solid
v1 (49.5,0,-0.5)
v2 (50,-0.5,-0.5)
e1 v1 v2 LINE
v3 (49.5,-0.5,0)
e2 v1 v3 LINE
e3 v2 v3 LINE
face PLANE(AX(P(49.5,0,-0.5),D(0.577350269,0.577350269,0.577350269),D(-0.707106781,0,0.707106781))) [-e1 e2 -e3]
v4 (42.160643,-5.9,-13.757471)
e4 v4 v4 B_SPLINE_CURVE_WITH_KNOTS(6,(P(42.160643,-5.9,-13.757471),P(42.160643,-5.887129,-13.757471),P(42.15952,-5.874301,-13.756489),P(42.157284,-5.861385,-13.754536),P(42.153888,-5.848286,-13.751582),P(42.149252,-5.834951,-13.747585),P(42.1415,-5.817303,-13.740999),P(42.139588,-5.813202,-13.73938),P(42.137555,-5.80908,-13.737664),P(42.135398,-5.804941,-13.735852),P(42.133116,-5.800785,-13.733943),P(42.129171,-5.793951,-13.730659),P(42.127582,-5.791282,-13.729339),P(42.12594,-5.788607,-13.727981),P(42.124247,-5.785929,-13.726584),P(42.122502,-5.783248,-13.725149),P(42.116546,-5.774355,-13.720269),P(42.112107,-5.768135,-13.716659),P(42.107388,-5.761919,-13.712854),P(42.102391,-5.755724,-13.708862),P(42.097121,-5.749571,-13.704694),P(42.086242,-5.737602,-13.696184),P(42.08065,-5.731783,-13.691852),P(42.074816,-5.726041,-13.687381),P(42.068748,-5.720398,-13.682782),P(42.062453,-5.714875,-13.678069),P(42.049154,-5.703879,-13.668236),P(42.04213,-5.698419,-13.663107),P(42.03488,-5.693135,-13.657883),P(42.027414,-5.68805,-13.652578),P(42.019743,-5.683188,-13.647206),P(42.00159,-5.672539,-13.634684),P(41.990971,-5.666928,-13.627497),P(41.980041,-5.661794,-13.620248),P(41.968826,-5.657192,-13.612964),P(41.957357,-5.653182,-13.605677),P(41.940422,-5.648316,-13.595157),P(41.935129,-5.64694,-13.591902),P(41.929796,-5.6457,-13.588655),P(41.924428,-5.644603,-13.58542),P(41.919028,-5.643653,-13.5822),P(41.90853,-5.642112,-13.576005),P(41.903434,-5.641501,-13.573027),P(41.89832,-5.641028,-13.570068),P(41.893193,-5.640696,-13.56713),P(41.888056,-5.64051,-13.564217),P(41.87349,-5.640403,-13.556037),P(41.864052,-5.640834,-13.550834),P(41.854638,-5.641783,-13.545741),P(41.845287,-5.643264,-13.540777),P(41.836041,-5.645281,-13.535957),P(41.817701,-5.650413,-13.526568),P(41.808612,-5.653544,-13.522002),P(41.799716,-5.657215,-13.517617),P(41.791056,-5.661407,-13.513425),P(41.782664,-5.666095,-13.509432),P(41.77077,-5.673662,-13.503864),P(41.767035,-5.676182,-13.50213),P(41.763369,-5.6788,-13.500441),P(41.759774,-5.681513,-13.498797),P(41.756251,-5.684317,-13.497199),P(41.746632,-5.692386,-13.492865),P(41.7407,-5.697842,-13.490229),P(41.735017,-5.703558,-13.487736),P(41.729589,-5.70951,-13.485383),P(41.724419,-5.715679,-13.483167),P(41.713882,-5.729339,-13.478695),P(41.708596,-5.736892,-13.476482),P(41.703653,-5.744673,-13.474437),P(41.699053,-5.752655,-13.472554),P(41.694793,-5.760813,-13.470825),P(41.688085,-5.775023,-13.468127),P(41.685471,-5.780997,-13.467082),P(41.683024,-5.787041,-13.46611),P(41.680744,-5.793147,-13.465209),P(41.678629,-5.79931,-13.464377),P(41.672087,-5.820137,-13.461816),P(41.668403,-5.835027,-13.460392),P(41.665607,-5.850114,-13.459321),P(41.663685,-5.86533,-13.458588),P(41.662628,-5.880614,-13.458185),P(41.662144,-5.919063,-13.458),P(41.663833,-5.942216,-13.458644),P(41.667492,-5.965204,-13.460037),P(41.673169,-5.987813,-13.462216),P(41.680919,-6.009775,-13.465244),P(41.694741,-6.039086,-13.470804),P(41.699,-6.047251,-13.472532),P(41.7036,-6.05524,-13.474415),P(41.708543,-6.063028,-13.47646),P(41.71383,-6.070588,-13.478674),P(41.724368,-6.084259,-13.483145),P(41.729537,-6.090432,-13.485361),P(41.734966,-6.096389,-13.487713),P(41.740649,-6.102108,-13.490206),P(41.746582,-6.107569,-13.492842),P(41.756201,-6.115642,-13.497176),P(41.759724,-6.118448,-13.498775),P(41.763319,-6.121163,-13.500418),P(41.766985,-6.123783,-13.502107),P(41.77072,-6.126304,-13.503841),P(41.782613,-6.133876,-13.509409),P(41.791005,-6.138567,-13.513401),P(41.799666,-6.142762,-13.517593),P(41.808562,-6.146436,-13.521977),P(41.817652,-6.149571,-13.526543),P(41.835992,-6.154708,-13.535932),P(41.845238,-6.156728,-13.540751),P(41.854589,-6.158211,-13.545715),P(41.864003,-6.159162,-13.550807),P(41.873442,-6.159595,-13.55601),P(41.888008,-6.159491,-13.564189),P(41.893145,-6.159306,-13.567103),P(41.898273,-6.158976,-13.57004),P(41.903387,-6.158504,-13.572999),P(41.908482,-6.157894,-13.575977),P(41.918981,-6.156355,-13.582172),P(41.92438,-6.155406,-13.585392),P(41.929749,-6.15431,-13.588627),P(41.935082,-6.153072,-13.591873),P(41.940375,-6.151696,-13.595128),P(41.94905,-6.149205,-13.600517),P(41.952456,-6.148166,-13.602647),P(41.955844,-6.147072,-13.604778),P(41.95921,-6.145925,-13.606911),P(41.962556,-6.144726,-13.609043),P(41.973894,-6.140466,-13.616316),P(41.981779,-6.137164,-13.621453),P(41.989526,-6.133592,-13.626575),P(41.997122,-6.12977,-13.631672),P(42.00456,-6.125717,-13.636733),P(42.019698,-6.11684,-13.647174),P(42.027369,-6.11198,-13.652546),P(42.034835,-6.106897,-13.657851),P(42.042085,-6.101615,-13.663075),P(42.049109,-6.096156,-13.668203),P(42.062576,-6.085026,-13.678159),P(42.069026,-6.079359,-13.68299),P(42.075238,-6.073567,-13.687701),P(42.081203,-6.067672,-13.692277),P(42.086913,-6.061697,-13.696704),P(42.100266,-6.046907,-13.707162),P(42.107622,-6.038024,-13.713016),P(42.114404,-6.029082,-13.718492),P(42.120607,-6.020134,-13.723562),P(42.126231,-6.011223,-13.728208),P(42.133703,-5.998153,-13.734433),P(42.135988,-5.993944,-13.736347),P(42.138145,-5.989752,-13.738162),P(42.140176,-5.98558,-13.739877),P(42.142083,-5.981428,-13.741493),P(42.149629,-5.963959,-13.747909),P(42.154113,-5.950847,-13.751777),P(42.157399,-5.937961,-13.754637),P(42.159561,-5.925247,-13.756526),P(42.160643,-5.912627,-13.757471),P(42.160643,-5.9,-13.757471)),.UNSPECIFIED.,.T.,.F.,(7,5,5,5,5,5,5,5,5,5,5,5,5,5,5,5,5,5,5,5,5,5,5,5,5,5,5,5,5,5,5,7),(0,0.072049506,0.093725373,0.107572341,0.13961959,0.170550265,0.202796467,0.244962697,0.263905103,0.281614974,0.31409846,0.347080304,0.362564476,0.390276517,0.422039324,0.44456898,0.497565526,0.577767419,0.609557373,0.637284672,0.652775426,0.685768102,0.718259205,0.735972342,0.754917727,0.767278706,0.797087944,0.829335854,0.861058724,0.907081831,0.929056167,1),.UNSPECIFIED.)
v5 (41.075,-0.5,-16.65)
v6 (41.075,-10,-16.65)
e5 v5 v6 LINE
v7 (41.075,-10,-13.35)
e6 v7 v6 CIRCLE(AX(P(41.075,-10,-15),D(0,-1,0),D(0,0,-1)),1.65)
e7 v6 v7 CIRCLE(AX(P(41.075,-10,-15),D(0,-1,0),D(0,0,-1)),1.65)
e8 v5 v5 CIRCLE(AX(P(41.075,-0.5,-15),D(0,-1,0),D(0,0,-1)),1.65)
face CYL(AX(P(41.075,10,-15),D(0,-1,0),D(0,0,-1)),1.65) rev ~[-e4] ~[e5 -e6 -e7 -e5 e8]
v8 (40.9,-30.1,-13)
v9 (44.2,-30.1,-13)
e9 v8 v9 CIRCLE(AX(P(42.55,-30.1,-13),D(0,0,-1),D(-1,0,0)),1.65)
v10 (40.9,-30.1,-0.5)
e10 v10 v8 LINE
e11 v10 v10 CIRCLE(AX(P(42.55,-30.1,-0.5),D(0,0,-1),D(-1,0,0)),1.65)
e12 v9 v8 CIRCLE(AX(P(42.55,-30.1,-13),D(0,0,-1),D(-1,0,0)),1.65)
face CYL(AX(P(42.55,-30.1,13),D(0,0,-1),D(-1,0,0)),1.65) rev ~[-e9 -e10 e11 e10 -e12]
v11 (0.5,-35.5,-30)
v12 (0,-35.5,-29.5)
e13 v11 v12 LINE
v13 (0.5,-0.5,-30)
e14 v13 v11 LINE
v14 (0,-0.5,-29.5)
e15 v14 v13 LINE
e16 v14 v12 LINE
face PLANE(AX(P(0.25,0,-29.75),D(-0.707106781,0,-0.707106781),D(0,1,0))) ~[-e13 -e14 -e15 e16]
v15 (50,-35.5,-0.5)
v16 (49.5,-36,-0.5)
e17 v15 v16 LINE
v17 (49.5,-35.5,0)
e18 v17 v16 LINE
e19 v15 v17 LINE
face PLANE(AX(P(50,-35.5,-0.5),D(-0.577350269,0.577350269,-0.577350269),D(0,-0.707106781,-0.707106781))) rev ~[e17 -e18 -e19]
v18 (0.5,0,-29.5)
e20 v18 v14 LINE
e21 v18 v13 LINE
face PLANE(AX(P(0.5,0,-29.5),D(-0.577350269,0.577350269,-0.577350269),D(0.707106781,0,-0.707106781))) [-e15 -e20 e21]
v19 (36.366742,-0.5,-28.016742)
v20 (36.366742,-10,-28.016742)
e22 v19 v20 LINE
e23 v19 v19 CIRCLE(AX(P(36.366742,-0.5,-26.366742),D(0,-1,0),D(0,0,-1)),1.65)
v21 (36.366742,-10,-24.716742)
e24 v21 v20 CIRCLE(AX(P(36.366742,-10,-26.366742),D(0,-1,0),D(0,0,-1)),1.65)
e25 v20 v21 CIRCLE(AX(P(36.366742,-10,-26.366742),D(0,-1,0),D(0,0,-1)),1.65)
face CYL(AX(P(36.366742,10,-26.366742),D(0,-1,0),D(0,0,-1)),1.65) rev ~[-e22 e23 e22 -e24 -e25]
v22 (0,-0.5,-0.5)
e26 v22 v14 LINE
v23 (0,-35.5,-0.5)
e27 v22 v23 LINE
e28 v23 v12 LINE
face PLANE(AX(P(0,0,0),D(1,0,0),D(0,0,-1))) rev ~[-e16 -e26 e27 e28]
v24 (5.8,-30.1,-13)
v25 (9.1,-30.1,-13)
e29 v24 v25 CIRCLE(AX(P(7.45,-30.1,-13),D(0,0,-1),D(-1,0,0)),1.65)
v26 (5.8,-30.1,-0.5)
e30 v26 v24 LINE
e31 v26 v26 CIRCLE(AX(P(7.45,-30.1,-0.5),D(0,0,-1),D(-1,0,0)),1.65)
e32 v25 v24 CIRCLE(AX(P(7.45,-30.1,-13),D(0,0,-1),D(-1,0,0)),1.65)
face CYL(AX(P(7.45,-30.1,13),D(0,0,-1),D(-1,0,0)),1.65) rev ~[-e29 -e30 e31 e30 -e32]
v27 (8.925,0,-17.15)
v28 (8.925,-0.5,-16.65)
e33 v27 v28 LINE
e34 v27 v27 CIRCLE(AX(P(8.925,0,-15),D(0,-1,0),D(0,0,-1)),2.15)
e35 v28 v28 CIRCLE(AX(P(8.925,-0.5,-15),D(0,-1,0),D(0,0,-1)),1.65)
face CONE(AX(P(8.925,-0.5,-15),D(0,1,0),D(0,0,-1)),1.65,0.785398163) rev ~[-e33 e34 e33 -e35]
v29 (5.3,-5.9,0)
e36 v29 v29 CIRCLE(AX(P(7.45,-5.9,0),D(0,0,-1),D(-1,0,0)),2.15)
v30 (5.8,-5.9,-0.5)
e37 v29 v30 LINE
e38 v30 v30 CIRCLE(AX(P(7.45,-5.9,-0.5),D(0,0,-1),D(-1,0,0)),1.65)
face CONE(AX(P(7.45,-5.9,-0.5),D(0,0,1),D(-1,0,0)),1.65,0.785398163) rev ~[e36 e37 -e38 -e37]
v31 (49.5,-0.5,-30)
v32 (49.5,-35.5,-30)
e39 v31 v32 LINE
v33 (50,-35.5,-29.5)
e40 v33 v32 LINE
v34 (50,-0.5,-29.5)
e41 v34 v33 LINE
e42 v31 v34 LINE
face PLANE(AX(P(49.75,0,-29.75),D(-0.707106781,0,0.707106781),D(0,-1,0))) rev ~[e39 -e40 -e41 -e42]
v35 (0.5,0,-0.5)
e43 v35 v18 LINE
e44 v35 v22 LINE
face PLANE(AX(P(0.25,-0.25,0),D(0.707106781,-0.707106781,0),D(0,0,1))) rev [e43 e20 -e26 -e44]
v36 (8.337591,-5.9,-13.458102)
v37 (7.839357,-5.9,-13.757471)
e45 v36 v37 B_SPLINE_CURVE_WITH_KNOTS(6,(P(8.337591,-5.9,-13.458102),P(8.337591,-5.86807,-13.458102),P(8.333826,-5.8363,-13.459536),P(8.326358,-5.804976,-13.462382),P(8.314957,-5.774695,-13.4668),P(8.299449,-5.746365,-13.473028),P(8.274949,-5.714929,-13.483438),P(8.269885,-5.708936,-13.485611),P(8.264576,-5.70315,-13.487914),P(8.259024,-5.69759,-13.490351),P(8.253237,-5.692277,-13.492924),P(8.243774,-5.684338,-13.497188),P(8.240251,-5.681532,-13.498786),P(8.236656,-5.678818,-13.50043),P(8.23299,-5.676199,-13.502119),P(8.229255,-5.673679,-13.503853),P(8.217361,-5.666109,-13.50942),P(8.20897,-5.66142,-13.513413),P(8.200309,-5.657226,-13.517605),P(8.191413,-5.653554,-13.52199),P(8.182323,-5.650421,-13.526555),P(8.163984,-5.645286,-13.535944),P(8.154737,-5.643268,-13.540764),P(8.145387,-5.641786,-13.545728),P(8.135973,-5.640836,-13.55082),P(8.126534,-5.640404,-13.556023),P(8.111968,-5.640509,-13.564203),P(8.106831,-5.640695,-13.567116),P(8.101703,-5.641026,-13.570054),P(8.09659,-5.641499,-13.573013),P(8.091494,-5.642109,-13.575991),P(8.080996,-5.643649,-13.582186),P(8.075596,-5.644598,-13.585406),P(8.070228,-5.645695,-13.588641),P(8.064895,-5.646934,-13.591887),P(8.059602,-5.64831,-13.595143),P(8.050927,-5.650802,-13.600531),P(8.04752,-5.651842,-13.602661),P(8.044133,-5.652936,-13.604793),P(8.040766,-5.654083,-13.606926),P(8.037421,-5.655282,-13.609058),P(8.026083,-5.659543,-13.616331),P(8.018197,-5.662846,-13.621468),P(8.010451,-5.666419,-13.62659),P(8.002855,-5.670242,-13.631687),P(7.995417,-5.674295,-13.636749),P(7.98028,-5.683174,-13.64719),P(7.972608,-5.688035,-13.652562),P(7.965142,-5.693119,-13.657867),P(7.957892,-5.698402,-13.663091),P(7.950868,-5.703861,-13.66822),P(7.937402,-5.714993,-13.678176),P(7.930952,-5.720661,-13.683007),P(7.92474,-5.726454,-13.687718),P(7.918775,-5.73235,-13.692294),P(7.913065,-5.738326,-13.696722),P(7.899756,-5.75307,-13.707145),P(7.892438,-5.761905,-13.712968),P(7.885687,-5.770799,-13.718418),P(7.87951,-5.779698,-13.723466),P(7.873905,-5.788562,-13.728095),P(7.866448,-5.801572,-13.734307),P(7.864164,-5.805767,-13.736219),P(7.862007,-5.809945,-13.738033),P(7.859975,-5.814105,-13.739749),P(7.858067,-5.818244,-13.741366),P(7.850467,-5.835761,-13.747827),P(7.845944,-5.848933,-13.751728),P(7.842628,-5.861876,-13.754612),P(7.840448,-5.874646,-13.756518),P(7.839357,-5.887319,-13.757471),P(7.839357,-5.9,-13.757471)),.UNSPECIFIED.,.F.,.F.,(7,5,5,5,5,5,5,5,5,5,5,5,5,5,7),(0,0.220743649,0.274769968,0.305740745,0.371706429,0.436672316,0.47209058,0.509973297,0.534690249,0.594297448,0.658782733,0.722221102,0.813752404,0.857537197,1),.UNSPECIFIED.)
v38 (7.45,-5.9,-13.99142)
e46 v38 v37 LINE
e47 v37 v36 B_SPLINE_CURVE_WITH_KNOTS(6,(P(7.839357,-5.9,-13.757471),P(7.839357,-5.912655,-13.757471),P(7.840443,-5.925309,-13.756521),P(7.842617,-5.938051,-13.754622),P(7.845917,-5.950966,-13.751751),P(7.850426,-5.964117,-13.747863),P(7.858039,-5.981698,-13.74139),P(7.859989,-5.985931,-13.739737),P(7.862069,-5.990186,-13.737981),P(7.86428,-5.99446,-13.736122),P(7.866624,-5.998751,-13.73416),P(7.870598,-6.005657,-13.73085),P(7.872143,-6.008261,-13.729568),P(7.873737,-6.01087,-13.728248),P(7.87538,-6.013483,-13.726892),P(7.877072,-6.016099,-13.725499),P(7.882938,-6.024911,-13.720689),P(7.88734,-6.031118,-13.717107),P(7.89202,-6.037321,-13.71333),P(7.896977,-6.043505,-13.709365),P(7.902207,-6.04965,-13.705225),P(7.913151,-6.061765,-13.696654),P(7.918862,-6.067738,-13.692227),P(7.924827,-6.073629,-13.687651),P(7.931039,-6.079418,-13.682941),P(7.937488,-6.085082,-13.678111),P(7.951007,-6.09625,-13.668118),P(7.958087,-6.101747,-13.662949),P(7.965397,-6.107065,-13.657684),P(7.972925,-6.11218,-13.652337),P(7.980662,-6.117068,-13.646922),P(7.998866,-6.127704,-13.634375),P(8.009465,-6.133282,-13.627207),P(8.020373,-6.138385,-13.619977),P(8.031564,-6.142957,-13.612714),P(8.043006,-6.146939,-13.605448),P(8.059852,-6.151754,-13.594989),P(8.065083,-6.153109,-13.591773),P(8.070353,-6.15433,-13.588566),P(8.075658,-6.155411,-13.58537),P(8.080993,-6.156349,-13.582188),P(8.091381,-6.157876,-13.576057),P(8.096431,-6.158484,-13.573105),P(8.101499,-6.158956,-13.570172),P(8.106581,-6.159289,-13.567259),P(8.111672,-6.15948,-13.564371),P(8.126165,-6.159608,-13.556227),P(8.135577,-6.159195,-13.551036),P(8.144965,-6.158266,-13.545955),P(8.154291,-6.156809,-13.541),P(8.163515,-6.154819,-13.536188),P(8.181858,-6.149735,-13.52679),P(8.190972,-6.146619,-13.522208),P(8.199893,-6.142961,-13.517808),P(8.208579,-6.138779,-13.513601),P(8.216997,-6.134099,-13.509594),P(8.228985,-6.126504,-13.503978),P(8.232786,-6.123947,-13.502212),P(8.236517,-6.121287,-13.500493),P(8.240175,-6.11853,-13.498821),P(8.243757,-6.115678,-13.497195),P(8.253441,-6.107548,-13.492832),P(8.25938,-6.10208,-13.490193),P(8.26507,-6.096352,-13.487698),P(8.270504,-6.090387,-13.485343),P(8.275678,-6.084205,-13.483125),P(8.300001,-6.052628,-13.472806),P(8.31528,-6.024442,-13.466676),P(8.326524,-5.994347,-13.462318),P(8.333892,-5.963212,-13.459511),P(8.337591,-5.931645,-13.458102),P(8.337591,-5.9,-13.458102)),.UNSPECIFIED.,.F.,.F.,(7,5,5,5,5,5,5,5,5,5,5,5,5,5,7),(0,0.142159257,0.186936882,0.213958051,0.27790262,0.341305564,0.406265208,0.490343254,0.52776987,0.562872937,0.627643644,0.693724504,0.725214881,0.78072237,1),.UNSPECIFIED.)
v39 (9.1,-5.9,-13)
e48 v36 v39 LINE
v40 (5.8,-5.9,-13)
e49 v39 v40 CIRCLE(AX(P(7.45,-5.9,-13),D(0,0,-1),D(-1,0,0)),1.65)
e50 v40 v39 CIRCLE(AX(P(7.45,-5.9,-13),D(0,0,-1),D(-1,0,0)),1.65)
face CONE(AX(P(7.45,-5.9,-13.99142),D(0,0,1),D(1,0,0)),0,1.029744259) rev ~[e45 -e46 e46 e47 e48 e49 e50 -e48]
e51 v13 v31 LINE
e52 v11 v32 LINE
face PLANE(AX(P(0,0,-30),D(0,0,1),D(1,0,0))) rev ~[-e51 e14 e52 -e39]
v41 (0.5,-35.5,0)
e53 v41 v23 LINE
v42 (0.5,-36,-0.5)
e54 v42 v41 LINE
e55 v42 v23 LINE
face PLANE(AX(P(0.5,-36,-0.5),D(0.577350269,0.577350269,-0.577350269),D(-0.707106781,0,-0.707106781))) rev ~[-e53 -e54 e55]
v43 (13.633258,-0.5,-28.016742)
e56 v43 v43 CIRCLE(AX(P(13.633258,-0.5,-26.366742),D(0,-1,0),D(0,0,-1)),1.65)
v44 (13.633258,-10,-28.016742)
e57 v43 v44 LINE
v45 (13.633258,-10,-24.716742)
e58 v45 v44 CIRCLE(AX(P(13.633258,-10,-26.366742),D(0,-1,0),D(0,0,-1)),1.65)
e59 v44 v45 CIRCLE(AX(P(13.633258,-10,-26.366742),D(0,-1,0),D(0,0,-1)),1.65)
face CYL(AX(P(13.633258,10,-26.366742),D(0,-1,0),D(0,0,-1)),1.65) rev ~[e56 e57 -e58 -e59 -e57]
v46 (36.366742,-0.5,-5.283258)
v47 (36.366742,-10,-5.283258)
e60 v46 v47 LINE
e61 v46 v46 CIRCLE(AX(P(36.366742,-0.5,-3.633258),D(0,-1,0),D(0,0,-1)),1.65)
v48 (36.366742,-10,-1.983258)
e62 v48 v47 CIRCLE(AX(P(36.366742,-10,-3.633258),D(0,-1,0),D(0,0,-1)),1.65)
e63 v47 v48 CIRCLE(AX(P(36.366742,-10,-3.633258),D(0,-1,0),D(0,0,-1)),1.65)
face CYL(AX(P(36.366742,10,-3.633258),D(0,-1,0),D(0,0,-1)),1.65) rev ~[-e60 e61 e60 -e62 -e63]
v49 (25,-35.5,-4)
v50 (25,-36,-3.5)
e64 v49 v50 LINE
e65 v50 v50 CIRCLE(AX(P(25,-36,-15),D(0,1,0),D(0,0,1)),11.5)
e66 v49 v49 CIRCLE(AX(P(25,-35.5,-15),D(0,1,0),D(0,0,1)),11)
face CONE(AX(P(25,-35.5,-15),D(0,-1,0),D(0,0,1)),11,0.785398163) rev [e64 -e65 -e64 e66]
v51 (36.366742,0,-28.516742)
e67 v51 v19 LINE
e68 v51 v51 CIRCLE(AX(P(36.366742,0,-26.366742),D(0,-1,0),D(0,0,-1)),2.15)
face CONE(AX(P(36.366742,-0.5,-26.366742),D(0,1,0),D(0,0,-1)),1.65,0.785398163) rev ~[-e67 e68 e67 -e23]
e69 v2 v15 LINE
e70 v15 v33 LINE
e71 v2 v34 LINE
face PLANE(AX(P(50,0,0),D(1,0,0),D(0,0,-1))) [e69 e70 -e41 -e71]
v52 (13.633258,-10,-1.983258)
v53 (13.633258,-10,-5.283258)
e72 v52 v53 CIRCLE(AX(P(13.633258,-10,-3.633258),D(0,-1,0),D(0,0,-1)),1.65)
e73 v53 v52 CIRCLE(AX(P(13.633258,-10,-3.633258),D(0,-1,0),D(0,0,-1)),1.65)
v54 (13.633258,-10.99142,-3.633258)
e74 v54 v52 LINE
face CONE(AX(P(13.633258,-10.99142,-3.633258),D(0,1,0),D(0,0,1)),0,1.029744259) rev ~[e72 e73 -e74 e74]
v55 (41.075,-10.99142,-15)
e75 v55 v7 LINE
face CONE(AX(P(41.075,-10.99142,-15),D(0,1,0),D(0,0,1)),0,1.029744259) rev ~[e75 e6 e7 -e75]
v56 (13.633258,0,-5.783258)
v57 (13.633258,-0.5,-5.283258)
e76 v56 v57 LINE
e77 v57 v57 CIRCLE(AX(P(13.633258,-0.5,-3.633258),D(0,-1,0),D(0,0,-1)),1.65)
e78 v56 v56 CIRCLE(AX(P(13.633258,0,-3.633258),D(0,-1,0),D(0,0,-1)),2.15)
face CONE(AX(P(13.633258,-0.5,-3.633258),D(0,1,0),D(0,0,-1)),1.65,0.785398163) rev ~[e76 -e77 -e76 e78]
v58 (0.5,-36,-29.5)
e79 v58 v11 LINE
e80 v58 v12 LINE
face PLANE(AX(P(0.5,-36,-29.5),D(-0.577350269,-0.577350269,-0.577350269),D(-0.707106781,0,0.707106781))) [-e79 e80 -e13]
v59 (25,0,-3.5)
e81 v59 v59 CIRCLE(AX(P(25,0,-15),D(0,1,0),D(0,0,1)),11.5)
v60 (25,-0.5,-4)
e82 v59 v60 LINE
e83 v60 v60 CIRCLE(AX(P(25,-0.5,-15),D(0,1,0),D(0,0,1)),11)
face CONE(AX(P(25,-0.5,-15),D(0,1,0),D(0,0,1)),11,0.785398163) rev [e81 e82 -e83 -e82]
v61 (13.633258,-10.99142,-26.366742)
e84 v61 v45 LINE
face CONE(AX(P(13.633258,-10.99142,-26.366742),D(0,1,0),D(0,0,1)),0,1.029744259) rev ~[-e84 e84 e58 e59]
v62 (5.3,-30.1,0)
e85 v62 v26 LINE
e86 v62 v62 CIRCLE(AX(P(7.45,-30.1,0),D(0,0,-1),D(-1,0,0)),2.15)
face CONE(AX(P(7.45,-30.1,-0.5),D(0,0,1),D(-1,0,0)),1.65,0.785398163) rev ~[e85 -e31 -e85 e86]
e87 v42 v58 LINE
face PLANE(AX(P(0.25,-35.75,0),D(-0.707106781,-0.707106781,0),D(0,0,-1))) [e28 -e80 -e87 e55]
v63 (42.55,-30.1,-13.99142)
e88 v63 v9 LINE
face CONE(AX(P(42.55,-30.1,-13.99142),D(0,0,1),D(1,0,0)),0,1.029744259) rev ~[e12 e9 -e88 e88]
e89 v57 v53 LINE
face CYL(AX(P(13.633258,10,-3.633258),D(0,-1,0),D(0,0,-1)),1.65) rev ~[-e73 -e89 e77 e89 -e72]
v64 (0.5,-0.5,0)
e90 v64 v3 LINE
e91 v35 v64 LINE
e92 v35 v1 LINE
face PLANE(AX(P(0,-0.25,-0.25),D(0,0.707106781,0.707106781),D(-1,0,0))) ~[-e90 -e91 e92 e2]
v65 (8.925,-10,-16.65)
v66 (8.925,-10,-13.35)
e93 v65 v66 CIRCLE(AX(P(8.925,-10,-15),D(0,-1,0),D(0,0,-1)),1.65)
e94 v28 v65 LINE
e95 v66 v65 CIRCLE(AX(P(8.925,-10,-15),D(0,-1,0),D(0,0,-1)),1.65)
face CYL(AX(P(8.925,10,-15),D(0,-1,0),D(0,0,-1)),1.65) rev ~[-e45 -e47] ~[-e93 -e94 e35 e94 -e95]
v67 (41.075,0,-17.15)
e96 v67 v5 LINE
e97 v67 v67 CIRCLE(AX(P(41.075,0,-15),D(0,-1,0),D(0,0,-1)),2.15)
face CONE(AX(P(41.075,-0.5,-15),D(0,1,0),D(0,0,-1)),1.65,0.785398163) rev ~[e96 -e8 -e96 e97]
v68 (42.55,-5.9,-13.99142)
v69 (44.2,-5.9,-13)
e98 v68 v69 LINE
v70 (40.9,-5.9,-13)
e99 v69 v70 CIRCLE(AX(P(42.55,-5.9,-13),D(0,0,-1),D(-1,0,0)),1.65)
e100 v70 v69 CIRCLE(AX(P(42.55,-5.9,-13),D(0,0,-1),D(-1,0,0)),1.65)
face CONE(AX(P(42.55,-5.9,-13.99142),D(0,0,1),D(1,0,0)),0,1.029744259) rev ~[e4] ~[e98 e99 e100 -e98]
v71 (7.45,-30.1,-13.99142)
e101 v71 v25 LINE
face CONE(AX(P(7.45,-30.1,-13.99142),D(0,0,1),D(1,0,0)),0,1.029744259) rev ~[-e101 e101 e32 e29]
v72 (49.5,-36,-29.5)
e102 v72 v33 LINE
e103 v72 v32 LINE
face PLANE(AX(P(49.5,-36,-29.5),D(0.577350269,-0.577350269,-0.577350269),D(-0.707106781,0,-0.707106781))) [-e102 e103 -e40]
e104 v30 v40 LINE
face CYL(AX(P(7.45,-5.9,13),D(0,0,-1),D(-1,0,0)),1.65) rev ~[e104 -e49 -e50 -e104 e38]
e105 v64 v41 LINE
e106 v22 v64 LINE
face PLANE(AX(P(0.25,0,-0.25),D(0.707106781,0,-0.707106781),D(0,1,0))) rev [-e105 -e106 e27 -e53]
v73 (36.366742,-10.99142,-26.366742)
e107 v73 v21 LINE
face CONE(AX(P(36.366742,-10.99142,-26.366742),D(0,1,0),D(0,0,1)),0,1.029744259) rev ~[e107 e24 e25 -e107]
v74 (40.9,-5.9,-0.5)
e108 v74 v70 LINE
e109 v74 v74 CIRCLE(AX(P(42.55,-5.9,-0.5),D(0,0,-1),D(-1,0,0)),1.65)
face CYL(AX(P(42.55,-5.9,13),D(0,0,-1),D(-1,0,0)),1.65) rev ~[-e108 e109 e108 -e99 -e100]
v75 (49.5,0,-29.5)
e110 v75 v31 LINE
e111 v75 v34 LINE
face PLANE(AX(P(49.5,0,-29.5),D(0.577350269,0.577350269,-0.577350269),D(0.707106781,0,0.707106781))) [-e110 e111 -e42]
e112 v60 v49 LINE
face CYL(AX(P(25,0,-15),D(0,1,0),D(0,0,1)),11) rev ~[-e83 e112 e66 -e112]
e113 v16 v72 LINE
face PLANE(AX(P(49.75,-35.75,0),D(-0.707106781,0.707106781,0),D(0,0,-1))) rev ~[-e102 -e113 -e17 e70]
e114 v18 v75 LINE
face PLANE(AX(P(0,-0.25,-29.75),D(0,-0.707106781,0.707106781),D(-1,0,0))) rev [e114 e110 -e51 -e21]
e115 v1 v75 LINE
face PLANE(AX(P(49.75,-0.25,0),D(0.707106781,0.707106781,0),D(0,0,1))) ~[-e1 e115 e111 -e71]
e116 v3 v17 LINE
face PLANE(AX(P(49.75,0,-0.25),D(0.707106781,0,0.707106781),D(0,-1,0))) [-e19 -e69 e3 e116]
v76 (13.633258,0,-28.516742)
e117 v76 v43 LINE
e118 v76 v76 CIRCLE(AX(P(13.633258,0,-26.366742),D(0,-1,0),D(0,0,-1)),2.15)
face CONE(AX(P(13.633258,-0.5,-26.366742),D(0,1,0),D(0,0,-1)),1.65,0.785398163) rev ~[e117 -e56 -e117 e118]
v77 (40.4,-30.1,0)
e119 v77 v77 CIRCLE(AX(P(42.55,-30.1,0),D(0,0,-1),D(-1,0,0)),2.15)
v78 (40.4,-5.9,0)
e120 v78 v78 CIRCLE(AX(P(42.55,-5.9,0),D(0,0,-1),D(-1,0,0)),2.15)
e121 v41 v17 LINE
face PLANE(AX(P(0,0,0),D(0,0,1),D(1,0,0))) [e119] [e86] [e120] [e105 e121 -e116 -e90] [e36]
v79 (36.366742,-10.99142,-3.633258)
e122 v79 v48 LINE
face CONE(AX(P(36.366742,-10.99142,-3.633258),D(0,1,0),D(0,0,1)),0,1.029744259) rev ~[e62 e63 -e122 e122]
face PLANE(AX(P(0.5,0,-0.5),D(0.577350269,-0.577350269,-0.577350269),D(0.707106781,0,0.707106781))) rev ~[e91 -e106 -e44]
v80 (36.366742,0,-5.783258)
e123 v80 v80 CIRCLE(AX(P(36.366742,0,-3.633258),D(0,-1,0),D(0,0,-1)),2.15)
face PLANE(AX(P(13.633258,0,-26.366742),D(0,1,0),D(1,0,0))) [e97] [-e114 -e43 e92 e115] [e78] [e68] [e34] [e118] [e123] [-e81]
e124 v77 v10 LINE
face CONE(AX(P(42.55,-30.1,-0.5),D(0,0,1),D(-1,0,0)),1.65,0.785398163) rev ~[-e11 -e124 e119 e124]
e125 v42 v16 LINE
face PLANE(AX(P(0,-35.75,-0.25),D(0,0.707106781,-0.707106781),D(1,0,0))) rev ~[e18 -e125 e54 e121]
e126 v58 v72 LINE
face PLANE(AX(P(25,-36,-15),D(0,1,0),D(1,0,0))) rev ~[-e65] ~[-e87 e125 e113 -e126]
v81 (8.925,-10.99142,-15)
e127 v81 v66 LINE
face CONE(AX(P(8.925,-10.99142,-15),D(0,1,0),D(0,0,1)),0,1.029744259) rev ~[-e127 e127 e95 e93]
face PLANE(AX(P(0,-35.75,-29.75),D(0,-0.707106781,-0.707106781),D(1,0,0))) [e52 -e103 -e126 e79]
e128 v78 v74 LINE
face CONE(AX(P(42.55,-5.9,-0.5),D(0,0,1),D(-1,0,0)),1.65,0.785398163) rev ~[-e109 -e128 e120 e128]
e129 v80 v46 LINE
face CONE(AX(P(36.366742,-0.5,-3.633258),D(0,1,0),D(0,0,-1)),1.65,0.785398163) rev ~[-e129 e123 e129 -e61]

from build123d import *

# Parameters (mm, degrees)
SKETCH1_W                       = 50
SKETCH1_H                       = 30
SKETCH1_R                       = 1.65
SKETCH1_R_2                     = 11
BOSS_EXTRUDE1_DEPTH             = 36
TAP_DRILL_FOR_M4X0_7_TAP1_D     = 3.3
TAP_DRILL_FOR_M4X0_7_TAP1_DEPTH = 10
TAP_DRILL_FOR_M4X0_7_TAP1_TIP   = 0.991420021
TAP_DRILL_FOR_M4X0_7_TAP2_D     = 3.3
TAP_DRILL_FOR_M4X0_7_TAP2_DEPTH = 13
TAP_DRILL_FOR_M4X0_7_TAP2_TIP   = 0.991420021
CHAMFER1_SIZE                   = 0.5


with BuildPart() as part:
    # Sketch1 → Boss-Extrude1 (new body)
    # profile 1 of 7: a face of its own
    with BuildSketch(Plane(origin=(0, 0, 0), x_dir=(1, 0, 0), z_dir=(0, 1, 0))):
        with Locations((25, 15)):
            Rectangle(SKETCH1_W, SKETCH1_H)
        with Locations((36.366741508, 3.633258492)):
            Circle(SKETCH1_R, mode=Mode.SUBTRACT)
        with Locations((13.633258492, 3.633258492)):
            Circle(SKETCH1_R, mode=Mode.SUBTRACT)
        with Locations((8.925, 15)):
            Circle(SKETCH1_R, mode=Mode.SUBTRACT)
        with Locations((13.633258492, 26.366741508)):
            Circle(SKETCH1_R, mode=Mode.SUBTRACT)
        with Locations((36.366741508, 26.366741508)):
            Circle(SKETCH1_R, mode=Mode.SUBTRACT)
        with Locations((41.075, 15)):
            Circle(SKETCH1_R, mode=Mode.SUBTRACT)
        with Locations(Location((25, 15, 0), (0, 0, 270))):
            Circle(SKETCH1_R_2, mode=Mode.SUBTRACT)
    # profile 2 of 7: a face of its own
    with BuildSketch(Plane(origin=(0, 0, 0), x_dir=(1, 0, 0), z_dir=(0, 1, 0))):
        with Locations((41.075, 15)):
            Circle(SKETCH1_R)
    # profile 3 of 7: a face of its own
    with BuildSketch(Plane(origin=(0, 0, 0), x_dir=(1, 0, 0), z_dir=(0, 1, 0))):
        with Locations((36.366741508, 26.366741508)):
            Circle(SKETCH1_R)
    # profile 4 of 7: a face of its own
    with BuildSketch(Plane(origin=(0, 0, 0), x_dir=(1, 0, 0), z_dir=(0, 1, 0))):
        with Locations((36.366741508, 3.633258492)):
            Circle(SKETCH1_R)
    # profile 5 of 7: a face of its own
    with BuildSketch(Plane(origin=(0, 0, 0), x_dir=(1, 0, 0), z_dir=(0, 1, 0))):
        with Locations((13.633258492, 3.633258492)):
            Circle(SKETCH1_R)
    # profile 6 of 7: a face of its own
    with BuildSketch(Plane(origin=(0, 0, 0), x_dir=(1, 0, 0), z_dir=(0, 1, 0))):
        with Locations((8.925, 15)):
            Circle(SKETCH1_R)
    # profile 7 of 7: a face of its own
    with BuildSketch(Plane(origin=(0, 0, 0), x_dir=(1, 0, 0), z_dir=(0, 1, 0))):
        with Locations((13.633258492, 26.366741508)):
            Circle(SKETCH1_R)
    extrude(amount=-BOSS_EXTRUDE1_DEPTH)

    # Tap Drill for M4x0.7 Tap1
    with Locations(Plane(origin=(8.925, 0, -15), x_dir=(0, 0, 1), z_dir=(0, 1, 0))):
        with Locations((0, 0), (-11.366741508, 4.708258492), (-11.366741508, 27.441741508), (0, 32.15), (11.366741508, 27.441741508), (11.366741508, 4.708258492)):
            Hole(TAP_DRILL_FOR_M4X0_7_TAP1_D / 2, depth=TAP_DRILL_FOR_M4X0_7_TAP1_DEPTH)
            with Locations((0, 0, -(TAP_DRILL_FOR_M4X0_7_TAP1_DEPTH + TAP_DRILL_FOR_M4X0_7_TAP1_TIP / 2))):  # 118° drill point
                Cone(0, TAP_DRILL_FOR_M4X0_7_TAP1_D / 2, TAP_DRILL_FOR_M4X0_7_TAP1_TIP, mode=Mode.SUBTRACT)

    # Tap Drill for M4x0.7 Tap2
    with Locations(Plane(origin=(7.45, -5.9, 0), x_dir=(1, 0, 0), z_dir=(0, 0, 1))):
        with Locations((0, 0), (35.1, 0), (35.1, -24.2), (0, -24.2)):
            Hole(TAP_DRILL_FOR_M4X0_7_TAP2_D / 2, depth=TAP_DRILL_FOR_M4X0_7_TAP2_DEPTH)
            with Locations((0, 0, -(TAP_DRILL_FOR_M4X0_7_TAP2_DEPTH + TAP_DRILL_FOR_M4X0_7_TAP2_TIP / 2))):  # 118° drill point
                Cone(0, TAP_DRILL_FOR_M4X0_7_TAP2_D / 2, TAP_DRILL_FOR_M4X0_7_TAP2_TIP, mode=Mode.SUBTRACT)

    # Chamfer1
    chamfer1_edges = [part.edges().sort_by_distance(p)[0] for p in [
        (0, -18, 0),
        (0, -18, -30),
        (50, -18, -30),
        (25, -36, 0),
        (50, -18, 0),
        (50, -36, -15),
        (13.633258492, 0, -1.983258492),
        (25, -36, -30),
        (36.366741508, 0, -1.983258492),
        (0, -36, -15),
        (41.075, 0, -13.35),
        (36.366741508, 0, -24.716741508),
        (13.633258492, 0, -24.716741508),
        (8.925, 0, -13.35),
        (9.1, -30.1, 0),
        (44.2, -30.1, 0),
        (44.2, -5.9, 0),
        (25, -36, -26),
        (9.1, -5.9, 0),
        (0, 0, -15),
        (25, 0, -30),
        (50, 0, -15),
        (25, 0, 0),
        (25, 0, -26),
    ]]
    chamfer(chamfer1_edges, length=CHAMFER1_SIZE)


solid = part.part
